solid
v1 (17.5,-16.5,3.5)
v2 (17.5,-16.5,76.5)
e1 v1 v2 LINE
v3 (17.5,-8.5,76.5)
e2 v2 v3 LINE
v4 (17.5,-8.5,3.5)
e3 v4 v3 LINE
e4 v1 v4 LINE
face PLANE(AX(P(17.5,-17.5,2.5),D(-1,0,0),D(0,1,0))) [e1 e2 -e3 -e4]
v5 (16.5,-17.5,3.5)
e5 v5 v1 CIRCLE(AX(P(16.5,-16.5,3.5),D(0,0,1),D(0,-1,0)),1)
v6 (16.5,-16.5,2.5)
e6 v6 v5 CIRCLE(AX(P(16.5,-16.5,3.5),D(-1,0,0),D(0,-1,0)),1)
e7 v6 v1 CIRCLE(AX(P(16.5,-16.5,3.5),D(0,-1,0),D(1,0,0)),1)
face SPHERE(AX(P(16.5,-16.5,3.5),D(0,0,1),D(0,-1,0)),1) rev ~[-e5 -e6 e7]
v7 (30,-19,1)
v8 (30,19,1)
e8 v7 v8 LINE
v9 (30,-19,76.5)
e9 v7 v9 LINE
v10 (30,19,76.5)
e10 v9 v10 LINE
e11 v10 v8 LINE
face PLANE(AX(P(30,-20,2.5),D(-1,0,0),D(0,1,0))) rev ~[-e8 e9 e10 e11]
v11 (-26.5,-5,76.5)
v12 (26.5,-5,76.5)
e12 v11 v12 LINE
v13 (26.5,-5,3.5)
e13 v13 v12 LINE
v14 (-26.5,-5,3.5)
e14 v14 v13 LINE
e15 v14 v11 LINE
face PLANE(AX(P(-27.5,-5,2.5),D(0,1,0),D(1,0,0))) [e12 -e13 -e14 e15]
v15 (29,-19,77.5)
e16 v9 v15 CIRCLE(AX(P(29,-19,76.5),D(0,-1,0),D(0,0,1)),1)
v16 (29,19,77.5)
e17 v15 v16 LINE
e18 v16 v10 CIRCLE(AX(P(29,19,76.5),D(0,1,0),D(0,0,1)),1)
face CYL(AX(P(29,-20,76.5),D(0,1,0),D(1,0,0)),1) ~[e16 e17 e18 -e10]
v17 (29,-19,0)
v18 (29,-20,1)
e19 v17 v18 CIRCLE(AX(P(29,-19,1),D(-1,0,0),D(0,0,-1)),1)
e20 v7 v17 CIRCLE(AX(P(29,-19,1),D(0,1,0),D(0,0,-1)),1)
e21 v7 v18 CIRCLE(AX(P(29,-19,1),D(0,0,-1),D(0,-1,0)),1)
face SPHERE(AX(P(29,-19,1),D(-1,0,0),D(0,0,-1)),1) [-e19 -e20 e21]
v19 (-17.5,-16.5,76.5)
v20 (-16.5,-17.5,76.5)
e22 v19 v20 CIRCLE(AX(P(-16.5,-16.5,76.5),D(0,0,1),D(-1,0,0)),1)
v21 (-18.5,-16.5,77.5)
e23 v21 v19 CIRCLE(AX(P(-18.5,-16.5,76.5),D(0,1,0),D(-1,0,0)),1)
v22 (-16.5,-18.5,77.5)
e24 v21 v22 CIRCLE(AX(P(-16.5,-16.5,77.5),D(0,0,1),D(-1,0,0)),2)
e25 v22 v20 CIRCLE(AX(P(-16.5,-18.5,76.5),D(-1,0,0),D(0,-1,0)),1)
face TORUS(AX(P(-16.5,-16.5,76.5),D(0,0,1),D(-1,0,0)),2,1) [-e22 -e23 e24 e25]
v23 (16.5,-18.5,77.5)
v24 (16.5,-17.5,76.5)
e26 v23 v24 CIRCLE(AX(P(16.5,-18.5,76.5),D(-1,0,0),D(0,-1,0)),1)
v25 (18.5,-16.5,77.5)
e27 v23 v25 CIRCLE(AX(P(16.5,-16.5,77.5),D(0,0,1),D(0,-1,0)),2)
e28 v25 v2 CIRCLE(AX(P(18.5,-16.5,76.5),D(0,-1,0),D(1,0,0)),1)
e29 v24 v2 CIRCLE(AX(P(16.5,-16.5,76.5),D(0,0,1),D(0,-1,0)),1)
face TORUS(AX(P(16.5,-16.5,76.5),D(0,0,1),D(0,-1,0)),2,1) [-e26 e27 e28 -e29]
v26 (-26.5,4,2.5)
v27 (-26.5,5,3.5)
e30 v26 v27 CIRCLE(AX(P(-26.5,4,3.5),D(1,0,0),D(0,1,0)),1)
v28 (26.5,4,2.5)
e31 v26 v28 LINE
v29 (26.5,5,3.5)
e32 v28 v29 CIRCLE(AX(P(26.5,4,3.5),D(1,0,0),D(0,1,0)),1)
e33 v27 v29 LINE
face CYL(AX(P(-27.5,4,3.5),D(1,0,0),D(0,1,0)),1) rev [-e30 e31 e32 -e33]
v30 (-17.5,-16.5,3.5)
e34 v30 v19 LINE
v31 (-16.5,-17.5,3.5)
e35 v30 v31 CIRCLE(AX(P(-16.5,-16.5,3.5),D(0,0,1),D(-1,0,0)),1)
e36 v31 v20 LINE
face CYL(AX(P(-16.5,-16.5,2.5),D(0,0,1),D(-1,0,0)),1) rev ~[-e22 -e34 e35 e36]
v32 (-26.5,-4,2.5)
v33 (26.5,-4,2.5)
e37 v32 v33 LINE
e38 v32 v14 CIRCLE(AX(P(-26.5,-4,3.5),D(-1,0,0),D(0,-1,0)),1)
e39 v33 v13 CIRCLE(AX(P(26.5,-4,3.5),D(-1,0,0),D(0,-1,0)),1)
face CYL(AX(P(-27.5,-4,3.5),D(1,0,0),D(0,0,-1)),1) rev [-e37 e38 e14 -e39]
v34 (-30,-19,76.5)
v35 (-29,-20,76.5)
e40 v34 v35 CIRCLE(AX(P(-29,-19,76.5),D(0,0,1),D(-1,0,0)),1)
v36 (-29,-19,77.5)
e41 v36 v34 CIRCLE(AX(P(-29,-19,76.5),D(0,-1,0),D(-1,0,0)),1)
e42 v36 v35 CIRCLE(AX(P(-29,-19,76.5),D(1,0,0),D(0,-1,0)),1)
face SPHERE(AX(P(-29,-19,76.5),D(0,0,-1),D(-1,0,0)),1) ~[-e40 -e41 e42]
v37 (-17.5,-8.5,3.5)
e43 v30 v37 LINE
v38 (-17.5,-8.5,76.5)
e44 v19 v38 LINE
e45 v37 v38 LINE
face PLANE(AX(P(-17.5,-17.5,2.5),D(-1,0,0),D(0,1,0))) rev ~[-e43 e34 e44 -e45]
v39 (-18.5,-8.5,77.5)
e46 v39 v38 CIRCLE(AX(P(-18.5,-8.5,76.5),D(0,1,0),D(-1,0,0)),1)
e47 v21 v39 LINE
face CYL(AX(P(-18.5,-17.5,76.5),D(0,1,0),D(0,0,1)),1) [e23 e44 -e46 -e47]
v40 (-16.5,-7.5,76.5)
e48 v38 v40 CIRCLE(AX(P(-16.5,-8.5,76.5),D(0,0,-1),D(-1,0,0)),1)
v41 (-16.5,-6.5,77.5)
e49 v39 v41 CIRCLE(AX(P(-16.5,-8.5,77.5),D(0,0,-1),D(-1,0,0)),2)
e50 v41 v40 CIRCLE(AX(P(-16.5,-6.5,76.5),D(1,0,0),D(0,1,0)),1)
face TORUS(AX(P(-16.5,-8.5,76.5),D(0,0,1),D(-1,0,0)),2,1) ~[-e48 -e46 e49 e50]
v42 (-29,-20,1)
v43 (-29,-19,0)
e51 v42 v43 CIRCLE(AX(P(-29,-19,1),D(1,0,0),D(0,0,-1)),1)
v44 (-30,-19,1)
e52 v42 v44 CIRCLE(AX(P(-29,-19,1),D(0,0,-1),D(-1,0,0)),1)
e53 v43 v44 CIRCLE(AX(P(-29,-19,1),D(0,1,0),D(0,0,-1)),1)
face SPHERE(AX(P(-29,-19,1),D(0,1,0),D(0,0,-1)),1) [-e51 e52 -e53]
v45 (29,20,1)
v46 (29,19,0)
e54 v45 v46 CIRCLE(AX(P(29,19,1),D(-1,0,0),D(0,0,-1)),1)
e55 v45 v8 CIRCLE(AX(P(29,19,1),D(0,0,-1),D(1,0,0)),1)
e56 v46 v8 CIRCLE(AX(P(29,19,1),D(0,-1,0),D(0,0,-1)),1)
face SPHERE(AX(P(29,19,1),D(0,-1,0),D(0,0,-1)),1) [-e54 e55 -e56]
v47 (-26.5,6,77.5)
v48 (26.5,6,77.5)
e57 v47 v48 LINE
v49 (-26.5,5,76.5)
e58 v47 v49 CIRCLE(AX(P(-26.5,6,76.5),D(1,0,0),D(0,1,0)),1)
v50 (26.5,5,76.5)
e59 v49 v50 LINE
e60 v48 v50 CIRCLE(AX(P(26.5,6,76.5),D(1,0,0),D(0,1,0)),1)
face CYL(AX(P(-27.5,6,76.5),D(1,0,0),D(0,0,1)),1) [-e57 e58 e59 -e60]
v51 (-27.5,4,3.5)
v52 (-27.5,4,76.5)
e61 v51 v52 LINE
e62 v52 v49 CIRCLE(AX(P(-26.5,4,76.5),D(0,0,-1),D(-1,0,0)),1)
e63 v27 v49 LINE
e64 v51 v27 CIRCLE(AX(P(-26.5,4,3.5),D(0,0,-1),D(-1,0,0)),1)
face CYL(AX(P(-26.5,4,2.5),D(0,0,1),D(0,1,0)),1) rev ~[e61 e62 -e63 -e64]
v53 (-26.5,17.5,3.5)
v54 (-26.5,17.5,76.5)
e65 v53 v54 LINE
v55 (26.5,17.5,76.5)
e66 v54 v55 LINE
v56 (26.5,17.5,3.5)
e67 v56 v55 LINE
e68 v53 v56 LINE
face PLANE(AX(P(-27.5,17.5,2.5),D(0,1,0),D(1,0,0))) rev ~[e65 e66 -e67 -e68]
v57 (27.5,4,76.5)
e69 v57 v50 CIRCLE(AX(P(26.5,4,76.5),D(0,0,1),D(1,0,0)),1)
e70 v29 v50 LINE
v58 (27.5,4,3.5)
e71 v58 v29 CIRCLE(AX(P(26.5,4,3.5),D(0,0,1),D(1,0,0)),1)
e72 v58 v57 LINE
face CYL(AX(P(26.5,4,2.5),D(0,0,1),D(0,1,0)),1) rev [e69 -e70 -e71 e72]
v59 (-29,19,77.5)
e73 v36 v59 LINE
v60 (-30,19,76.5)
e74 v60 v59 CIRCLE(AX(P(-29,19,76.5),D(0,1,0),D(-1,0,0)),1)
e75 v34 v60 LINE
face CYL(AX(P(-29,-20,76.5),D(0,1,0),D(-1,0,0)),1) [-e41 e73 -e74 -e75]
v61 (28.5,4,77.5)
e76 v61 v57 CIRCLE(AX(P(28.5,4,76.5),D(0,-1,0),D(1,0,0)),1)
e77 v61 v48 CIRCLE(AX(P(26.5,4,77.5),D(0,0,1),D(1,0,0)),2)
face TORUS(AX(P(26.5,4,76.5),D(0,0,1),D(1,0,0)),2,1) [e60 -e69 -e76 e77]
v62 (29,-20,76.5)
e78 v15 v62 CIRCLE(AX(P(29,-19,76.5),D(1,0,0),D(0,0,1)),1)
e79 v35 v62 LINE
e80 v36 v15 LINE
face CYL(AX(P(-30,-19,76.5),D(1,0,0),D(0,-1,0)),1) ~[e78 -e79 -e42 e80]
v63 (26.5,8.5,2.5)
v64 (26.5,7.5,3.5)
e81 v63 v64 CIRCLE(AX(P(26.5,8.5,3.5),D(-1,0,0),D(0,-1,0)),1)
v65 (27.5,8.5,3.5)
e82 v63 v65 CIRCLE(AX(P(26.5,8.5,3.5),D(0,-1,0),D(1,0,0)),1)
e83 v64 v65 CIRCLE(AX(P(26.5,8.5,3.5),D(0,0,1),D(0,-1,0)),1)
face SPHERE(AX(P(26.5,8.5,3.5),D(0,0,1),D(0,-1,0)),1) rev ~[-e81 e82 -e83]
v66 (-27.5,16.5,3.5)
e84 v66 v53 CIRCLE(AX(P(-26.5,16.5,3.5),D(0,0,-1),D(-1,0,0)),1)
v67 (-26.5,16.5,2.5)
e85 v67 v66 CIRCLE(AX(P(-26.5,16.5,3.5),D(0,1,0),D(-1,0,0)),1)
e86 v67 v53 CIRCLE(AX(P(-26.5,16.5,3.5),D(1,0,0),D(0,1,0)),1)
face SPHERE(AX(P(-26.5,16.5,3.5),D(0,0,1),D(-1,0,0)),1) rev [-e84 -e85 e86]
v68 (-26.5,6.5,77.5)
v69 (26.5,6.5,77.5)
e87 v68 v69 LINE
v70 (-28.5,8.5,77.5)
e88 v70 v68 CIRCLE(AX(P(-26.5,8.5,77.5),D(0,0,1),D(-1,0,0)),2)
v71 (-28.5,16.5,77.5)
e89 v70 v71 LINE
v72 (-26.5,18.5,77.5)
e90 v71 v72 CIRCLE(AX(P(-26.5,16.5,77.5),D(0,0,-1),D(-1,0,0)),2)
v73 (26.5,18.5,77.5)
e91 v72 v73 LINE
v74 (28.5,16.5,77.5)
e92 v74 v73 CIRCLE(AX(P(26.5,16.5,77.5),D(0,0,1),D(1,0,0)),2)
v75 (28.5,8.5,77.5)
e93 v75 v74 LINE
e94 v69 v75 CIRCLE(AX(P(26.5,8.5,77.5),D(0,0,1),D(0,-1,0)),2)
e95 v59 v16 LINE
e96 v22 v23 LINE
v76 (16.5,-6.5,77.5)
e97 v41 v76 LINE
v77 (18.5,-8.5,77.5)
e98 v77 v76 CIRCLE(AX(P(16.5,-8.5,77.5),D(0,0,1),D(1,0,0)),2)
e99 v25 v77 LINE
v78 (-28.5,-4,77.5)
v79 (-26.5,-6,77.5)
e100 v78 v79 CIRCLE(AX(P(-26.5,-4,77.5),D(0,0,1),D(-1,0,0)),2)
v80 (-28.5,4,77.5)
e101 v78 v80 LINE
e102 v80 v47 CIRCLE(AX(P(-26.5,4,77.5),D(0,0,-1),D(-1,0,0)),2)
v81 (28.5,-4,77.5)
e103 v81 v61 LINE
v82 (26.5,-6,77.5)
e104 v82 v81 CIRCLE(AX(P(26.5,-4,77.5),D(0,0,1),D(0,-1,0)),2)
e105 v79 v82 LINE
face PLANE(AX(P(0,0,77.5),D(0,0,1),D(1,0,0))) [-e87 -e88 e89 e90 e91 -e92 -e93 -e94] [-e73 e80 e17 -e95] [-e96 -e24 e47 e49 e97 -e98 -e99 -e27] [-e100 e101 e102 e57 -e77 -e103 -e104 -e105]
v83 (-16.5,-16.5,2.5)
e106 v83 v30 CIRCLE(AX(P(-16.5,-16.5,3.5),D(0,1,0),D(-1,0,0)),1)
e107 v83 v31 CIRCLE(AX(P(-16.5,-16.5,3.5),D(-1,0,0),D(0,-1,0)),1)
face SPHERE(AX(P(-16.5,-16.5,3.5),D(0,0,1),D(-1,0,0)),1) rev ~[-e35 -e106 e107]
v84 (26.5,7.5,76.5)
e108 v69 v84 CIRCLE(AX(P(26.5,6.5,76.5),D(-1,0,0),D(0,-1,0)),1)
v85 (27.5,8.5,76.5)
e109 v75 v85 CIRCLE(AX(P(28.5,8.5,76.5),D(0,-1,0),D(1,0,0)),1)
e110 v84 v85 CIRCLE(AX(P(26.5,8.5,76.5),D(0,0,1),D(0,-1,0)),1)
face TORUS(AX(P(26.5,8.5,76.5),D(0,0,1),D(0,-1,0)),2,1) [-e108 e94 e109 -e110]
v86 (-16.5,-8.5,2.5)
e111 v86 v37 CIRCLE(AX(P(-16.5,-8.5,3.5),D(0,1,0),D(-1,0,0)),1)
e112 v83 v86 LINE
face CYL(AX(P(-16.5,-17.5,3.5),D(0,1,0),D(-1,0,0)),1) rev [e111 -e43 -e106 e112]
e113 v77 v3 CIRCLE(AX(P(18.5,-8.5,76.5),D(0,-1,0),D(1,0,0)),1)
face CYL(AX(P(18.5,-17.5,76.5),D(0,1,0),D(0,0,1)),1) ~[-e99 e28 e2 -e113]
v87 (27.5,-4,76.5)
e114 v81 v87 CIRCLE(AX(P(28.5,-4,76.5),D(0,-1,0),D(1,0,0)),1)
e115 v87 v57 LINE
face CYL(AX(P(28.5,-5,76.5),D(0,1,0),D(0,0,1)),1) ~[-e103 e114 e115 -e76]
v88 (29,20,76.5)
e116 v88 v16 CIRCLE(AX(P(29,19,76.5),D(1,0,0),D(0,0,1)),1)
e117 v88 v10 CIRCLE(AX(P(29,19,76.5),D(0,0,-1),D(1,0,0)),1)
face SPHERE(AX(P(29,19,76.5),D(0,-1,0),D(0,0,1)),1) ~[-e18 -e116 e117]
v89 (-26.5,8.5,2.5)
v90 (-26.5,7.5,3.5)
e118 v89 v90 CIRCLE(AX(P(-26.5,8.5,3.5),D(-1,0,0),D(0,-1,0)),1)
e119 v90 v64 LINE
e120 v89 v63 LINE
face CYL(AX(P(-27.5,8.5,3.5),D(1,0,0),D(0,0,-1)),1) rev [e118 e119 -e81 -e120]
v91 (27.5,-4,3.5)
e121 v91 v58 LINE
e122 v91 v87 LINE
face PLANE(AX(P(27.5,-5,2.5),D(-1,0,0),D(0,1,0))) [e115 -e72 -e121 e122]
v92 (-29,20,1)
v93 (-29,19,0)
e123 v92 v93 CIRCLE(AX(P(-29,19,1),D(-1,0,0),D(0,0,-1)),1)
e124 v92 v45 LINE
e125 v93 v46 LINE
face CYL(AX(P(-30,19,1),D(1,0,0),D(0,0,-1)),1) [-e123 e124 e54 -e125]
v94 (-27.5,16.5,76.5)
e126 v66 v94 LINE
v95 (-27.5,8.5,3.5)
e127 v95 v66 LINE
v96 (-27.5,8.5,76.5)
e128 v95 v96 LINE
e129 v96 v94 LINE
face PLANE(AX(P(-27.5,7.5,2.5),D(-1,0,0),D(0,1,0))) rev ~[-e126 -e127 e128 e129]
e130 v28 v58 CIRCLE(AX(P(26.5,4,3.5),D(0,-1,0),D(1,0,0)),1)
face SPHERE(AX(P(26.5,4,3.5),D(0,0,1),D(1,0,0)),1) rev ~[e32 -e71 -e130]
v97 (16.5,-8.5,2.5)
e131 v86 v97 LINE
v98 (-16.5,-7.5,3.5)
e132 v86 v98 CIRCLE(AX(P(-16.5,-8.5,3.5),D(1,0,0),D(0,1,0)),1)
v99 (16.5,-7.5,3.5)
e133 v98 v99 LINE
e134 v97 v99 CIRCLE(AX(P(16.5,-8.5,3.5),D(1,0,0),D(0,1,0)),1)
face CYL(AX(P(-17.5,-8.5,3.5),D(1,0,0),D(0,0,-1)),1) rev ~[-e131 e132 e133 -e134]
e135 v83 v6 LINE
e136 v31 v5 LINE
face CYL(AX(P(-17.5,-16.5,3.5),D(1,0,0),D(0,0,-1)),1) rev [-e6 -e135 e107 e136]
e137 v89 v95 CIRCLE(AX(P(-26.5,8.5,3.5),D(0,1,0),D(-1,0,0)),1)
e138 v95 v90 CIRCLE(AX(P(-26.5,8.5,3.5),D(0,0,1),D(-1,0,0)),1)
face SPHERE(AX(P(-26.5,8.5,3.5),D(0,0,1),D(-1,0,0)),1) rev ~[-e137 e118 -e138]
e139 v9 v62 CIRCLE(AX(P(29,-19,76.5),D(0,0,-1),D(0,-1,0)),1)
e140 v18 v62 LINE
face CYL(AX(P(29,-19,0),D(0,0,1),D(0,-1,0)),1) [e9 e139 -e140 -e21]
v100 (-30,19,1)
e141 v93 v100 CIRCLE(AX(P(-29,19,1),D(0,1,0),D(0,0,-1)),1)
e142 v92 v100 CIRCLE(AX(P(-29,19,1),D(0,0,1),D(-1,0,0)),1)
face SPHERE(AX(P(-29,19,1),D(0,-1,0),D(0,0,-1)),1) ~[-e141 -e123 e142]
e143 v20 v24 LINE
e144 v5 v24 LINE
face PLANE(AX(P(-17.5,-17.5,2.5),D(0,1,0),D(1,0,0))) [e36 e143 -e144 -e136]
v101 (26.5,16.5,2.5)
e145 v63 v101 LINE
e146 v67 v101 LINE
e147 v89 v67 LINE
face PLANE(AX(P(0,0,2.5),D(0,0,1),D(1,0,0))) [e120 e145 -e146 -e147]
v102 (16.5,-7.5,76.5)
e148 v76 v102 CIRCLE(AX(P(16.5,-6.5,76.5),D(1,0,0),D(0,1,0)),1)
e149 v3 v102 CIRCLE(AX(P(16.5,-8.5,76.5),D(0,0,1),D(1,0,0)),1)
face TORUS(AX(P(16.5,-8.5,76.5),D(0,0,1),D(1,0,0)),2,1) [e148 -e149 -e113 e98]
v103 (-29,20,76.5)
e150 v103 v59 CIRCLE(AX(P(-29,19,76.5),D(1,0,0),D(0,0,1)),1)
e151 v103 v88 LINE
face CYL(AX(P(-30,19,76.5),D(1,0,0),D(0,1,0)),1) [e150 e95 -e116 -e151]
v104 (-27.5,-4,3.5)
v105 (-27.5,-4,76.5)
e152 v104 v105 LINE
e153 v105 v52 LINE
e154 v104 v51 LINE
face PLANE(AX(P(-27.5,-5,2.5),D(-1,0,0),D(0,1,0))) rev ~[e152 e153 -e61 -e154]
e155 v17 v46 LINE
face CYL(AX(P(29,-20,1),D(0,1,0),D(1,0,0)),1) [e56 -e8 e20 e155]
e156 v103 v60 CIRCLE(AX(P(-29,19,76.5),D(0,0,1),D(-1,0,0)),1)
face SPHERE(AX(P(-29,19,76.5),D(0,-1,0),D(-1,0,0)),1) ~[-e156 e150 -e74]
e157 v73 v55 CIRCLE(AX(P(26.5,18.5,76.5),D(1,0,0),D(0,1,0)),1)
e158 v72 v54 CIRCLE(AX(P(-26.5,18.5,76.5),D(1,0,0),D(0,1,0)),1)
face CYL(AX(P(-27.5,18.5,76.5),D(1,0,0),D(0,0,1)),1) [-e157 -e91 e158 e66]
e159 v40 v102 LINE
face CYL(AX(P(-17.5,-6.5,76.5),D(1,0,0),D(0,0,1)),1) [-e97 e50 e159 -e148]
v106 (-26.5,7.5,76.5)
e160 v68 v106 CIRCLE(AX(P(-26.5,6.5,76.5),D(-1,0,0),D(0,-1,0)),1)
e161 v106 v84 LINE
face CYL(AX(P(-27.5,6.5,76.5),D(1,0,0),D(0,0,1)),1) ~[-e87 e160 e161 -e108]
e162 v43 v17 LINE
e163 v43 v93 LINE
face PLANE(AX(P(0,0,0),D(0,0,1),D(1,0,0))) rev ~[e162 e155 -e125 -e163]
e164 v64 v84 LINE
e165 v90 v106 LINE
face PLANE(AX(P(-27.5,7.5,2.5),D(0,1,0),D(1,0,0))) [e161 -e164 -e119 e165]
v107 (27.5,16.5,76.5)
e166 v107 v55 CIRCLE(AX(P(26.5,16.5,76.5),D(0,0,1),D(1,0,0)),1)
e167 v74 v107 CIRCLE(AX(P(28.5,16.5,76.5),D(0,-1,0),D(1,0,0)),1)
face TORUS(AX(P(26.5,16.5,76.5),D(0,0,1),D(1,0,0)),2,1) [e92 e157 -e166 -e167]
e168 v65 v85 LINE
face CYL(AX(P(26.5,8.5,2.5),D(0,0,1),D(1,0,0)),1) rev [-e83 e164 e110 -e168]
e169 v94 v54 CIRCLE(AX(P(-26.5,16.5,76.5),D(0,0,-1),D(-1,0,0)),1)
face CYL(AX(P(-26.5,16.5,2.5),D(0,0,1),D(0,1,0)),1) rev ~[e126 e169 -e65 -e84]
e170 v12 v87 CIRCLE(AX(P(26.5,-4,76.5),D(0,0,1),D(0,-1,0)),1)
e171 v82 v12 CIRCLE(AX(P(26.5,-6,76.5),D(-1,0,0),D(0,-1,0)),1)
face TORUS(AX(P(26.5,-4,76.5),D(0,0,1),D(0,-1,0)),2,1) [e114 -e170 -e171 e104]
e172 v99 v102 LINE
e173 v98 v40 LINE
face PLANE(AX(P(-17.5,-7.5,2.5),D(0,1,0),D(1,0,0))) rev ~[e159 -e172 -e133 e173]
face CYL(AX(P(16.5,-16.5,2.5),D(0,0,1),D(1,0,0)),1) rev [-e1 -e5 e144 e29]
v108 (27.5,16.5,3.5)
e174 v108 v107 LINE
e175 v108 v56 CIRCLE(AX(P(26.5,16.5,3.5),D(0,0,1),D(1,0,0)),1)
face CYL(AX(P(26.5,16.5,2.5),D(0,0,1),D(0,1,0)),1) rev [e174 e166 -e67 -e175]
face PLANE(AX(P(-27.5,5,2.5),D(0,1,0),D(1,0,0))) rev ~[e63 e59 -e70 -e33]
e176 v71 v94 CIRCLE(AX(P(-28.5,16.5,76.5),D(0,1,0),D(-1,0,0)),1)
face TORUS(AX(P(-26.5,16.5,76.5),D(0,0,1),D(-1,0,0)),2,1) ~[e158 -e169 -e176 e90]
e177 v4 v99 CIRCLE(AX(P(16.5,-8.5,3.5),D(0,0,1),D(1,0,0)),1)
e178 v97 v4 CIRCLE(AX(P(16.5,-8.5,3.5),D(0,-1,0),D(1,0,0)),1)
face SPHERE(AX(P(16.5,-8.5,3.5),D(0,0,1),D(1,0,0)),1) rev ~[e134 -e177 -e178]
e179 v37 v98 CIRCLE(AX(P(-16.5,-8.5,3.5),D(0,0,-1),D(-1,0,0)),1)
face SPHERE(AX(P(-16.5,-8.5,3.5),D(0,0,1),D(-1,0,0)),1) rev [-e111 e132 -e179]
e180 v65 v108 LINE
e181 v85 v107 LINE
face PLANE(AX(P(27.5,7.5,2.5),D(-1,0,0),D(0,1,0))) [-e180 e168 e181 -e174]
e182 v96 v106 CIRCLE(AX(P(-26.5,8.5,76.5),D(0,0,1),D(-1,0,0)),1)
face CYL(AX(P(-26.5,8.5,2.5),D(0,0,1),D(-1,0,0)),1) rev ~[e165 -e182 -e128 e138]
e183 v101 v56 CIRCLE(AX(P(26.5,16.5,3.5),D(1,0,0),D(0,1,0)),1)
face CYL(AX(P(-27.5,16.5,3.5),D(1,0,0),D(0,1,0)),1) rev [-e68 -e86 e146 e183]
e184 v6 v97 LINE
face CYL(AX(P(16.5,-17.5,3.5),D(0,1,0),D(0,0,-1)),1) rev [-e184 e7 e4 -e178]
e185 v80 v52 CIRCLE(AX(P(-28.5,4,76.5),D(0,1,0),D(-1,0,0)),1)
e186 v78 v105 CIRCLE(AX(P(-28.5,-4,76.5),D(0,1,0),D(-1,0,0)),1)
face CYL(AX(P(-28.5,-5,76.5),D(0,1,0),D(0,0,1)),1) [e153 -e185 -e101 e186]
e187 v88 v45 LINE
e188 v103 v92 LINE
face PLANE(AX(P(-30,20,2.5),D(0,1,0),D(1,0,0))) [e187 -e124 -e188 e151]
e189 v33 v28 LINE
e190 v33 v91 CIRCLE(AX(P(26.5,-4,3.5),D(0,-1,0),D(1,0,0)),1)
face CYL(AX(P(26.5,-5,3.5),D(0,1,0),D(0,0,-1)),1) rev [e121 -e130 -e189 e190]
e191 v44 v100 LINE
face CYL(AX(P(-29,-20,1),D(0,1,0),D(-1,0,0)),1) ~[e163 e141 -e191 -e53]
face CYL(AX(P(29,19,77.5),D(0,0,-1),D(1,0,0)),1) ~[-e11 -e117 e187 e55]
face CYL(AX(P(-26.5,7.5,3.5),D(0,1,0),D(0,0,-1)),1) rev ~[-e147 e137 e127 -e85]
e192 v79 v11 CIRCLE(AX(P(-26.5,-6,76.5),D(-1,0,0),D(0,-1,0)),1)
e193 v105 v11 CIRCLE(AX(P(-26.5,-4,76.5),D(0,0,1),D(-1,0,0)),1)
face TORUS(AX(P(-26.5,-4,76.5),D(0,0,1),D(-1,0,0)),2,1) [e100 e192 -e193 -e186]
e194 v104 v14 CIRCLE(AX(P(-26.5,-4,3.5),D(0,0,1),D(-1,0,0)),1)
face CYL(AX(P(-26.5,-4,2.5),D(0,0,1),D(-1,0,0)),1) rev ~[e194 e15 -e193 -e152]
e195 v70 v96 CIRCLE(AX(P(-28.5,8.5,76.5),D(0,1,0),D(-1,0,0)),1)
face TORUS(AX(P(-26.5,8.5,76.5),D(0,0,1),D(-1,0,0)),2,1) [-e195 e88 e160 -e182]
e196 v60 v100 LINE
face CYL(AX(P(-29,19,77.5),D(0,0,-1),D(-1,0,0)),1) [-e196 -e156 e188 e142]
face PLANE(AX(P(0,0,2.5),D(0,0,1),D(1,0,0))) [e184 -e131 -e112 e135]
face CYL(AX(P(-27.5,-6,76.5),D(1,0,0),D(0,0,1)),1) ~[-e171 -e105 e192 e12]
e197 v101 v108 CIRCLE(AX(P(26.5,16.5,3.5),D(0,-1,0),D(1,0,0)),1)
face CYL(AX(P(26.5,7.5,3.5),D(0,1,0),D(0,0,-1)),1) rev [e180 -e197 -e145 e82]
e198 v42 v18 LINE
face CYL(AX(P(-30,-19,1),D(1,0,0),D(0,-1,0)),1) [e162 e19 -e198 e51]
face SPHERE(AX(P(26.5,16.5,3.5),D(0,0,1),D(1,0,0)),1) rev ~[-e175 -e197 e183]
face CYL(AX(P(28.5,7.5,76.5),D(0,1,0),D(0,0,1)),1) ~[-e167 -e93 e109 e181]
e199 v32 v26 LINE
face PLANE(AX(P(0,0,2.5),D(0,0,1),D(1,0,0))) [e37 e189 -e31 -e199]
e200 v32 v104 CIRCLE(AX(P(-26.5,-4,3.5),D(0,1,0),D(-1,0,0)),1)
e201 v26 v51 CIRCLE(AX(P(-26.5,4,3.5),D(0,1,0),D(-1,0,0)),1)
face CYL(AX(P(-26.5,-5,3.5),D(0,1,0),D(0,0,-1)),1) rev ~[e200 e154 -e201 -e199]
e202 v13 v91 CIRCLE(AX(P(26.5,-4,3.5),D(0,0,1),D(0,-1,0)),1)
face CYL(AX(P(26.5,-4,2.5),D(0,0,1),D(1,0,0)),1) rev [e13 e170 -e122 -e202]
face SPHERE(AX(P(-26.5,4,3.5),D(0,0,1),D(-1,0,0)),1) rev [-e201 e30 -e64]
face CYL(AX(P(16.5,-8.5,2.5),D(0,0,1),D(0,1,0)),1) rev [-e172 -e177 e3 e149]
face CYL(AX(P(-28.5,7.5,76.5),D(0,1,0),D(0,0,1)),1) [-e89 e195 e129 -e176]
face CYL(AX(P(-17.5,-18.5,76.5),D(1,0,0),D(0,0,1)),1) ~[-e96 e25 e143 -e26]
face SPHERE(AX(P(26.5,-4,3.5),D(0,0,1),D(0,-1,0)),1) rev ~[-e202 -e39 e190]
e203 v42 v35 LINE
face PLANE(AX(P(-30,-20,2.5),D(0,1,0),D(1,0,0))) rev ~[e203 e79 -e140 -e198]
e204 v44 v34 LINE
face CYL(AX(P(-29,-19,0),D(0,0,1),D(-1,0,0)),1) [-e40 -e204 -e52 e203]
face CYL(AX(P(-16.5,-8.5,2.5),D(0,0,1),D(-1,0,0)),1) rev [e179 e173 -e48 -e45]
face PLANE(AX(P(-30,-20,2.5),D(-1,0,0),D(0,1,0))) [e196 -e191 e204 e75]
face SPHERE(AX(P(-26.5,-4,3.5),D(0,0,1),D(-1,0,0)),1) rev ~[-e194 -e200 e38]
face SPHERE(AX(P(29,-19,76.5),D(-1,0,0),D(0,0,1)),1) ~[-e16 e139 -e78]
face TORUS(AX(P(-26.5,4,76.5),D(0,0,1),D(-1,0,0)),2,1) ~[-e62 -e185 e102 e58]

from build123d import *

# Parameters (mm, degrees)
SKETCH_W      = 60
SKETCH_H      = 40
PAD_DEPTH     = 2.5
SKETCH001_W   = 60
SKETCH001_H   = 40
SKETCH001_W_2 = 55
SKETCH001_H_2 = 10
SKETCH001_W_3 = 35
PAD001_DEPTH  = 75
FILLET_R      = 1


with BuildPart() as part:
    # Sketch → Pad (new body)
    with BuildSketch(Plane.XY):
        Rectangle(SKETCH_W, SKETCH_H)
    extrude(amount=PAD_DEPTH)

    # Sketch001 (on Face6 of Pad) → Pad001 (join)
    with BuildSketch(Plane.XY.offset(2.5)):
        Rectangle(SKETCH001_W, SKETCH001_H)
        with Locations((0, 12.5)):
            Rectangle(SKETCH001_W_2, SKETCH001_H_2, mode=Mode.SUBTRACT)
        Rectangle(SKETCH001_W_2, SKETCH001_H_2, mode=Mode.SUBTRACT)
        with Locations((0, -12.5)):
            Rectangle(SKETCH001_W_3, SKETCH001_H_2, mode=Mode.SUBTRACT)
    extrude(amount=PAD001_DEPTH)

    # Fillet
    fillet_edges = [part.edges().sort_by_distance(p)[0] for p in [
        (-30, 0, 0),
        (0, -20, 0),
        (30, 0, 0),
        (0, 20, 0),
        (-30, -20, 38.75),
        (-30, 0, 77.5),
        (-30, 20, 38.75),
        (0, -20, 77.5),
        (30, 0, 77.5),
        (0, 20, 77.5),
        (-27.5, 0, 77.5),
        (0, -5, 77.5),
        (27.5, 0, 77.5),
        (0, 5, 77.5),
        (-27.5, 12.5, 77.5),
        (0, 7.5, 77.5),
        (27.5, 12.5, 77.5),
        (0, 17.5, 77.5),
        (-17.5, -12.5, 77.5),
        (0, -17.5, 77.5),
        (17.5, -12.5, 77.5),
        (0, -7.5, 77.5),
        (-27.5, 5, 40),
        (-27.5, -5, 40),
        (-27.5, 0, 2.5),
        (27.5, -5, 40),
        (0, -5, 2.5),
        (27.5, 5, 40),
        (27.5, 0, 2.5),
        (0, 5, 2.5),
        (-27.5, 17.5, 40),
        (-27.5, 7.5, 40),
        (-27.5, 12.5, 2.5),
        (27.5, 7.5, 40),
        (0, 7.5, 2.5),
        (27.5, 17.5, 40),
        (27.5, 12.5, 2.5),
        (0, 17.5, 2.5),
        (-17.5, -7.5, 40),
        (-17.5, -17.5, 40),
        (-17.5, -12.5, 2.5),
        (17.5, -17.5, 40),
        (0, -17.5, 2.5),
        (17.5, -7.5, 40),
        (17.5, -12.5, 2.5),
        (0, -7.5, 2.5),
        (30, 20, 38.75),
        (30, -20, 38.75),
    ]]
    fillet(fillet_edges, radius=FILLET_R)


solid = part.part
